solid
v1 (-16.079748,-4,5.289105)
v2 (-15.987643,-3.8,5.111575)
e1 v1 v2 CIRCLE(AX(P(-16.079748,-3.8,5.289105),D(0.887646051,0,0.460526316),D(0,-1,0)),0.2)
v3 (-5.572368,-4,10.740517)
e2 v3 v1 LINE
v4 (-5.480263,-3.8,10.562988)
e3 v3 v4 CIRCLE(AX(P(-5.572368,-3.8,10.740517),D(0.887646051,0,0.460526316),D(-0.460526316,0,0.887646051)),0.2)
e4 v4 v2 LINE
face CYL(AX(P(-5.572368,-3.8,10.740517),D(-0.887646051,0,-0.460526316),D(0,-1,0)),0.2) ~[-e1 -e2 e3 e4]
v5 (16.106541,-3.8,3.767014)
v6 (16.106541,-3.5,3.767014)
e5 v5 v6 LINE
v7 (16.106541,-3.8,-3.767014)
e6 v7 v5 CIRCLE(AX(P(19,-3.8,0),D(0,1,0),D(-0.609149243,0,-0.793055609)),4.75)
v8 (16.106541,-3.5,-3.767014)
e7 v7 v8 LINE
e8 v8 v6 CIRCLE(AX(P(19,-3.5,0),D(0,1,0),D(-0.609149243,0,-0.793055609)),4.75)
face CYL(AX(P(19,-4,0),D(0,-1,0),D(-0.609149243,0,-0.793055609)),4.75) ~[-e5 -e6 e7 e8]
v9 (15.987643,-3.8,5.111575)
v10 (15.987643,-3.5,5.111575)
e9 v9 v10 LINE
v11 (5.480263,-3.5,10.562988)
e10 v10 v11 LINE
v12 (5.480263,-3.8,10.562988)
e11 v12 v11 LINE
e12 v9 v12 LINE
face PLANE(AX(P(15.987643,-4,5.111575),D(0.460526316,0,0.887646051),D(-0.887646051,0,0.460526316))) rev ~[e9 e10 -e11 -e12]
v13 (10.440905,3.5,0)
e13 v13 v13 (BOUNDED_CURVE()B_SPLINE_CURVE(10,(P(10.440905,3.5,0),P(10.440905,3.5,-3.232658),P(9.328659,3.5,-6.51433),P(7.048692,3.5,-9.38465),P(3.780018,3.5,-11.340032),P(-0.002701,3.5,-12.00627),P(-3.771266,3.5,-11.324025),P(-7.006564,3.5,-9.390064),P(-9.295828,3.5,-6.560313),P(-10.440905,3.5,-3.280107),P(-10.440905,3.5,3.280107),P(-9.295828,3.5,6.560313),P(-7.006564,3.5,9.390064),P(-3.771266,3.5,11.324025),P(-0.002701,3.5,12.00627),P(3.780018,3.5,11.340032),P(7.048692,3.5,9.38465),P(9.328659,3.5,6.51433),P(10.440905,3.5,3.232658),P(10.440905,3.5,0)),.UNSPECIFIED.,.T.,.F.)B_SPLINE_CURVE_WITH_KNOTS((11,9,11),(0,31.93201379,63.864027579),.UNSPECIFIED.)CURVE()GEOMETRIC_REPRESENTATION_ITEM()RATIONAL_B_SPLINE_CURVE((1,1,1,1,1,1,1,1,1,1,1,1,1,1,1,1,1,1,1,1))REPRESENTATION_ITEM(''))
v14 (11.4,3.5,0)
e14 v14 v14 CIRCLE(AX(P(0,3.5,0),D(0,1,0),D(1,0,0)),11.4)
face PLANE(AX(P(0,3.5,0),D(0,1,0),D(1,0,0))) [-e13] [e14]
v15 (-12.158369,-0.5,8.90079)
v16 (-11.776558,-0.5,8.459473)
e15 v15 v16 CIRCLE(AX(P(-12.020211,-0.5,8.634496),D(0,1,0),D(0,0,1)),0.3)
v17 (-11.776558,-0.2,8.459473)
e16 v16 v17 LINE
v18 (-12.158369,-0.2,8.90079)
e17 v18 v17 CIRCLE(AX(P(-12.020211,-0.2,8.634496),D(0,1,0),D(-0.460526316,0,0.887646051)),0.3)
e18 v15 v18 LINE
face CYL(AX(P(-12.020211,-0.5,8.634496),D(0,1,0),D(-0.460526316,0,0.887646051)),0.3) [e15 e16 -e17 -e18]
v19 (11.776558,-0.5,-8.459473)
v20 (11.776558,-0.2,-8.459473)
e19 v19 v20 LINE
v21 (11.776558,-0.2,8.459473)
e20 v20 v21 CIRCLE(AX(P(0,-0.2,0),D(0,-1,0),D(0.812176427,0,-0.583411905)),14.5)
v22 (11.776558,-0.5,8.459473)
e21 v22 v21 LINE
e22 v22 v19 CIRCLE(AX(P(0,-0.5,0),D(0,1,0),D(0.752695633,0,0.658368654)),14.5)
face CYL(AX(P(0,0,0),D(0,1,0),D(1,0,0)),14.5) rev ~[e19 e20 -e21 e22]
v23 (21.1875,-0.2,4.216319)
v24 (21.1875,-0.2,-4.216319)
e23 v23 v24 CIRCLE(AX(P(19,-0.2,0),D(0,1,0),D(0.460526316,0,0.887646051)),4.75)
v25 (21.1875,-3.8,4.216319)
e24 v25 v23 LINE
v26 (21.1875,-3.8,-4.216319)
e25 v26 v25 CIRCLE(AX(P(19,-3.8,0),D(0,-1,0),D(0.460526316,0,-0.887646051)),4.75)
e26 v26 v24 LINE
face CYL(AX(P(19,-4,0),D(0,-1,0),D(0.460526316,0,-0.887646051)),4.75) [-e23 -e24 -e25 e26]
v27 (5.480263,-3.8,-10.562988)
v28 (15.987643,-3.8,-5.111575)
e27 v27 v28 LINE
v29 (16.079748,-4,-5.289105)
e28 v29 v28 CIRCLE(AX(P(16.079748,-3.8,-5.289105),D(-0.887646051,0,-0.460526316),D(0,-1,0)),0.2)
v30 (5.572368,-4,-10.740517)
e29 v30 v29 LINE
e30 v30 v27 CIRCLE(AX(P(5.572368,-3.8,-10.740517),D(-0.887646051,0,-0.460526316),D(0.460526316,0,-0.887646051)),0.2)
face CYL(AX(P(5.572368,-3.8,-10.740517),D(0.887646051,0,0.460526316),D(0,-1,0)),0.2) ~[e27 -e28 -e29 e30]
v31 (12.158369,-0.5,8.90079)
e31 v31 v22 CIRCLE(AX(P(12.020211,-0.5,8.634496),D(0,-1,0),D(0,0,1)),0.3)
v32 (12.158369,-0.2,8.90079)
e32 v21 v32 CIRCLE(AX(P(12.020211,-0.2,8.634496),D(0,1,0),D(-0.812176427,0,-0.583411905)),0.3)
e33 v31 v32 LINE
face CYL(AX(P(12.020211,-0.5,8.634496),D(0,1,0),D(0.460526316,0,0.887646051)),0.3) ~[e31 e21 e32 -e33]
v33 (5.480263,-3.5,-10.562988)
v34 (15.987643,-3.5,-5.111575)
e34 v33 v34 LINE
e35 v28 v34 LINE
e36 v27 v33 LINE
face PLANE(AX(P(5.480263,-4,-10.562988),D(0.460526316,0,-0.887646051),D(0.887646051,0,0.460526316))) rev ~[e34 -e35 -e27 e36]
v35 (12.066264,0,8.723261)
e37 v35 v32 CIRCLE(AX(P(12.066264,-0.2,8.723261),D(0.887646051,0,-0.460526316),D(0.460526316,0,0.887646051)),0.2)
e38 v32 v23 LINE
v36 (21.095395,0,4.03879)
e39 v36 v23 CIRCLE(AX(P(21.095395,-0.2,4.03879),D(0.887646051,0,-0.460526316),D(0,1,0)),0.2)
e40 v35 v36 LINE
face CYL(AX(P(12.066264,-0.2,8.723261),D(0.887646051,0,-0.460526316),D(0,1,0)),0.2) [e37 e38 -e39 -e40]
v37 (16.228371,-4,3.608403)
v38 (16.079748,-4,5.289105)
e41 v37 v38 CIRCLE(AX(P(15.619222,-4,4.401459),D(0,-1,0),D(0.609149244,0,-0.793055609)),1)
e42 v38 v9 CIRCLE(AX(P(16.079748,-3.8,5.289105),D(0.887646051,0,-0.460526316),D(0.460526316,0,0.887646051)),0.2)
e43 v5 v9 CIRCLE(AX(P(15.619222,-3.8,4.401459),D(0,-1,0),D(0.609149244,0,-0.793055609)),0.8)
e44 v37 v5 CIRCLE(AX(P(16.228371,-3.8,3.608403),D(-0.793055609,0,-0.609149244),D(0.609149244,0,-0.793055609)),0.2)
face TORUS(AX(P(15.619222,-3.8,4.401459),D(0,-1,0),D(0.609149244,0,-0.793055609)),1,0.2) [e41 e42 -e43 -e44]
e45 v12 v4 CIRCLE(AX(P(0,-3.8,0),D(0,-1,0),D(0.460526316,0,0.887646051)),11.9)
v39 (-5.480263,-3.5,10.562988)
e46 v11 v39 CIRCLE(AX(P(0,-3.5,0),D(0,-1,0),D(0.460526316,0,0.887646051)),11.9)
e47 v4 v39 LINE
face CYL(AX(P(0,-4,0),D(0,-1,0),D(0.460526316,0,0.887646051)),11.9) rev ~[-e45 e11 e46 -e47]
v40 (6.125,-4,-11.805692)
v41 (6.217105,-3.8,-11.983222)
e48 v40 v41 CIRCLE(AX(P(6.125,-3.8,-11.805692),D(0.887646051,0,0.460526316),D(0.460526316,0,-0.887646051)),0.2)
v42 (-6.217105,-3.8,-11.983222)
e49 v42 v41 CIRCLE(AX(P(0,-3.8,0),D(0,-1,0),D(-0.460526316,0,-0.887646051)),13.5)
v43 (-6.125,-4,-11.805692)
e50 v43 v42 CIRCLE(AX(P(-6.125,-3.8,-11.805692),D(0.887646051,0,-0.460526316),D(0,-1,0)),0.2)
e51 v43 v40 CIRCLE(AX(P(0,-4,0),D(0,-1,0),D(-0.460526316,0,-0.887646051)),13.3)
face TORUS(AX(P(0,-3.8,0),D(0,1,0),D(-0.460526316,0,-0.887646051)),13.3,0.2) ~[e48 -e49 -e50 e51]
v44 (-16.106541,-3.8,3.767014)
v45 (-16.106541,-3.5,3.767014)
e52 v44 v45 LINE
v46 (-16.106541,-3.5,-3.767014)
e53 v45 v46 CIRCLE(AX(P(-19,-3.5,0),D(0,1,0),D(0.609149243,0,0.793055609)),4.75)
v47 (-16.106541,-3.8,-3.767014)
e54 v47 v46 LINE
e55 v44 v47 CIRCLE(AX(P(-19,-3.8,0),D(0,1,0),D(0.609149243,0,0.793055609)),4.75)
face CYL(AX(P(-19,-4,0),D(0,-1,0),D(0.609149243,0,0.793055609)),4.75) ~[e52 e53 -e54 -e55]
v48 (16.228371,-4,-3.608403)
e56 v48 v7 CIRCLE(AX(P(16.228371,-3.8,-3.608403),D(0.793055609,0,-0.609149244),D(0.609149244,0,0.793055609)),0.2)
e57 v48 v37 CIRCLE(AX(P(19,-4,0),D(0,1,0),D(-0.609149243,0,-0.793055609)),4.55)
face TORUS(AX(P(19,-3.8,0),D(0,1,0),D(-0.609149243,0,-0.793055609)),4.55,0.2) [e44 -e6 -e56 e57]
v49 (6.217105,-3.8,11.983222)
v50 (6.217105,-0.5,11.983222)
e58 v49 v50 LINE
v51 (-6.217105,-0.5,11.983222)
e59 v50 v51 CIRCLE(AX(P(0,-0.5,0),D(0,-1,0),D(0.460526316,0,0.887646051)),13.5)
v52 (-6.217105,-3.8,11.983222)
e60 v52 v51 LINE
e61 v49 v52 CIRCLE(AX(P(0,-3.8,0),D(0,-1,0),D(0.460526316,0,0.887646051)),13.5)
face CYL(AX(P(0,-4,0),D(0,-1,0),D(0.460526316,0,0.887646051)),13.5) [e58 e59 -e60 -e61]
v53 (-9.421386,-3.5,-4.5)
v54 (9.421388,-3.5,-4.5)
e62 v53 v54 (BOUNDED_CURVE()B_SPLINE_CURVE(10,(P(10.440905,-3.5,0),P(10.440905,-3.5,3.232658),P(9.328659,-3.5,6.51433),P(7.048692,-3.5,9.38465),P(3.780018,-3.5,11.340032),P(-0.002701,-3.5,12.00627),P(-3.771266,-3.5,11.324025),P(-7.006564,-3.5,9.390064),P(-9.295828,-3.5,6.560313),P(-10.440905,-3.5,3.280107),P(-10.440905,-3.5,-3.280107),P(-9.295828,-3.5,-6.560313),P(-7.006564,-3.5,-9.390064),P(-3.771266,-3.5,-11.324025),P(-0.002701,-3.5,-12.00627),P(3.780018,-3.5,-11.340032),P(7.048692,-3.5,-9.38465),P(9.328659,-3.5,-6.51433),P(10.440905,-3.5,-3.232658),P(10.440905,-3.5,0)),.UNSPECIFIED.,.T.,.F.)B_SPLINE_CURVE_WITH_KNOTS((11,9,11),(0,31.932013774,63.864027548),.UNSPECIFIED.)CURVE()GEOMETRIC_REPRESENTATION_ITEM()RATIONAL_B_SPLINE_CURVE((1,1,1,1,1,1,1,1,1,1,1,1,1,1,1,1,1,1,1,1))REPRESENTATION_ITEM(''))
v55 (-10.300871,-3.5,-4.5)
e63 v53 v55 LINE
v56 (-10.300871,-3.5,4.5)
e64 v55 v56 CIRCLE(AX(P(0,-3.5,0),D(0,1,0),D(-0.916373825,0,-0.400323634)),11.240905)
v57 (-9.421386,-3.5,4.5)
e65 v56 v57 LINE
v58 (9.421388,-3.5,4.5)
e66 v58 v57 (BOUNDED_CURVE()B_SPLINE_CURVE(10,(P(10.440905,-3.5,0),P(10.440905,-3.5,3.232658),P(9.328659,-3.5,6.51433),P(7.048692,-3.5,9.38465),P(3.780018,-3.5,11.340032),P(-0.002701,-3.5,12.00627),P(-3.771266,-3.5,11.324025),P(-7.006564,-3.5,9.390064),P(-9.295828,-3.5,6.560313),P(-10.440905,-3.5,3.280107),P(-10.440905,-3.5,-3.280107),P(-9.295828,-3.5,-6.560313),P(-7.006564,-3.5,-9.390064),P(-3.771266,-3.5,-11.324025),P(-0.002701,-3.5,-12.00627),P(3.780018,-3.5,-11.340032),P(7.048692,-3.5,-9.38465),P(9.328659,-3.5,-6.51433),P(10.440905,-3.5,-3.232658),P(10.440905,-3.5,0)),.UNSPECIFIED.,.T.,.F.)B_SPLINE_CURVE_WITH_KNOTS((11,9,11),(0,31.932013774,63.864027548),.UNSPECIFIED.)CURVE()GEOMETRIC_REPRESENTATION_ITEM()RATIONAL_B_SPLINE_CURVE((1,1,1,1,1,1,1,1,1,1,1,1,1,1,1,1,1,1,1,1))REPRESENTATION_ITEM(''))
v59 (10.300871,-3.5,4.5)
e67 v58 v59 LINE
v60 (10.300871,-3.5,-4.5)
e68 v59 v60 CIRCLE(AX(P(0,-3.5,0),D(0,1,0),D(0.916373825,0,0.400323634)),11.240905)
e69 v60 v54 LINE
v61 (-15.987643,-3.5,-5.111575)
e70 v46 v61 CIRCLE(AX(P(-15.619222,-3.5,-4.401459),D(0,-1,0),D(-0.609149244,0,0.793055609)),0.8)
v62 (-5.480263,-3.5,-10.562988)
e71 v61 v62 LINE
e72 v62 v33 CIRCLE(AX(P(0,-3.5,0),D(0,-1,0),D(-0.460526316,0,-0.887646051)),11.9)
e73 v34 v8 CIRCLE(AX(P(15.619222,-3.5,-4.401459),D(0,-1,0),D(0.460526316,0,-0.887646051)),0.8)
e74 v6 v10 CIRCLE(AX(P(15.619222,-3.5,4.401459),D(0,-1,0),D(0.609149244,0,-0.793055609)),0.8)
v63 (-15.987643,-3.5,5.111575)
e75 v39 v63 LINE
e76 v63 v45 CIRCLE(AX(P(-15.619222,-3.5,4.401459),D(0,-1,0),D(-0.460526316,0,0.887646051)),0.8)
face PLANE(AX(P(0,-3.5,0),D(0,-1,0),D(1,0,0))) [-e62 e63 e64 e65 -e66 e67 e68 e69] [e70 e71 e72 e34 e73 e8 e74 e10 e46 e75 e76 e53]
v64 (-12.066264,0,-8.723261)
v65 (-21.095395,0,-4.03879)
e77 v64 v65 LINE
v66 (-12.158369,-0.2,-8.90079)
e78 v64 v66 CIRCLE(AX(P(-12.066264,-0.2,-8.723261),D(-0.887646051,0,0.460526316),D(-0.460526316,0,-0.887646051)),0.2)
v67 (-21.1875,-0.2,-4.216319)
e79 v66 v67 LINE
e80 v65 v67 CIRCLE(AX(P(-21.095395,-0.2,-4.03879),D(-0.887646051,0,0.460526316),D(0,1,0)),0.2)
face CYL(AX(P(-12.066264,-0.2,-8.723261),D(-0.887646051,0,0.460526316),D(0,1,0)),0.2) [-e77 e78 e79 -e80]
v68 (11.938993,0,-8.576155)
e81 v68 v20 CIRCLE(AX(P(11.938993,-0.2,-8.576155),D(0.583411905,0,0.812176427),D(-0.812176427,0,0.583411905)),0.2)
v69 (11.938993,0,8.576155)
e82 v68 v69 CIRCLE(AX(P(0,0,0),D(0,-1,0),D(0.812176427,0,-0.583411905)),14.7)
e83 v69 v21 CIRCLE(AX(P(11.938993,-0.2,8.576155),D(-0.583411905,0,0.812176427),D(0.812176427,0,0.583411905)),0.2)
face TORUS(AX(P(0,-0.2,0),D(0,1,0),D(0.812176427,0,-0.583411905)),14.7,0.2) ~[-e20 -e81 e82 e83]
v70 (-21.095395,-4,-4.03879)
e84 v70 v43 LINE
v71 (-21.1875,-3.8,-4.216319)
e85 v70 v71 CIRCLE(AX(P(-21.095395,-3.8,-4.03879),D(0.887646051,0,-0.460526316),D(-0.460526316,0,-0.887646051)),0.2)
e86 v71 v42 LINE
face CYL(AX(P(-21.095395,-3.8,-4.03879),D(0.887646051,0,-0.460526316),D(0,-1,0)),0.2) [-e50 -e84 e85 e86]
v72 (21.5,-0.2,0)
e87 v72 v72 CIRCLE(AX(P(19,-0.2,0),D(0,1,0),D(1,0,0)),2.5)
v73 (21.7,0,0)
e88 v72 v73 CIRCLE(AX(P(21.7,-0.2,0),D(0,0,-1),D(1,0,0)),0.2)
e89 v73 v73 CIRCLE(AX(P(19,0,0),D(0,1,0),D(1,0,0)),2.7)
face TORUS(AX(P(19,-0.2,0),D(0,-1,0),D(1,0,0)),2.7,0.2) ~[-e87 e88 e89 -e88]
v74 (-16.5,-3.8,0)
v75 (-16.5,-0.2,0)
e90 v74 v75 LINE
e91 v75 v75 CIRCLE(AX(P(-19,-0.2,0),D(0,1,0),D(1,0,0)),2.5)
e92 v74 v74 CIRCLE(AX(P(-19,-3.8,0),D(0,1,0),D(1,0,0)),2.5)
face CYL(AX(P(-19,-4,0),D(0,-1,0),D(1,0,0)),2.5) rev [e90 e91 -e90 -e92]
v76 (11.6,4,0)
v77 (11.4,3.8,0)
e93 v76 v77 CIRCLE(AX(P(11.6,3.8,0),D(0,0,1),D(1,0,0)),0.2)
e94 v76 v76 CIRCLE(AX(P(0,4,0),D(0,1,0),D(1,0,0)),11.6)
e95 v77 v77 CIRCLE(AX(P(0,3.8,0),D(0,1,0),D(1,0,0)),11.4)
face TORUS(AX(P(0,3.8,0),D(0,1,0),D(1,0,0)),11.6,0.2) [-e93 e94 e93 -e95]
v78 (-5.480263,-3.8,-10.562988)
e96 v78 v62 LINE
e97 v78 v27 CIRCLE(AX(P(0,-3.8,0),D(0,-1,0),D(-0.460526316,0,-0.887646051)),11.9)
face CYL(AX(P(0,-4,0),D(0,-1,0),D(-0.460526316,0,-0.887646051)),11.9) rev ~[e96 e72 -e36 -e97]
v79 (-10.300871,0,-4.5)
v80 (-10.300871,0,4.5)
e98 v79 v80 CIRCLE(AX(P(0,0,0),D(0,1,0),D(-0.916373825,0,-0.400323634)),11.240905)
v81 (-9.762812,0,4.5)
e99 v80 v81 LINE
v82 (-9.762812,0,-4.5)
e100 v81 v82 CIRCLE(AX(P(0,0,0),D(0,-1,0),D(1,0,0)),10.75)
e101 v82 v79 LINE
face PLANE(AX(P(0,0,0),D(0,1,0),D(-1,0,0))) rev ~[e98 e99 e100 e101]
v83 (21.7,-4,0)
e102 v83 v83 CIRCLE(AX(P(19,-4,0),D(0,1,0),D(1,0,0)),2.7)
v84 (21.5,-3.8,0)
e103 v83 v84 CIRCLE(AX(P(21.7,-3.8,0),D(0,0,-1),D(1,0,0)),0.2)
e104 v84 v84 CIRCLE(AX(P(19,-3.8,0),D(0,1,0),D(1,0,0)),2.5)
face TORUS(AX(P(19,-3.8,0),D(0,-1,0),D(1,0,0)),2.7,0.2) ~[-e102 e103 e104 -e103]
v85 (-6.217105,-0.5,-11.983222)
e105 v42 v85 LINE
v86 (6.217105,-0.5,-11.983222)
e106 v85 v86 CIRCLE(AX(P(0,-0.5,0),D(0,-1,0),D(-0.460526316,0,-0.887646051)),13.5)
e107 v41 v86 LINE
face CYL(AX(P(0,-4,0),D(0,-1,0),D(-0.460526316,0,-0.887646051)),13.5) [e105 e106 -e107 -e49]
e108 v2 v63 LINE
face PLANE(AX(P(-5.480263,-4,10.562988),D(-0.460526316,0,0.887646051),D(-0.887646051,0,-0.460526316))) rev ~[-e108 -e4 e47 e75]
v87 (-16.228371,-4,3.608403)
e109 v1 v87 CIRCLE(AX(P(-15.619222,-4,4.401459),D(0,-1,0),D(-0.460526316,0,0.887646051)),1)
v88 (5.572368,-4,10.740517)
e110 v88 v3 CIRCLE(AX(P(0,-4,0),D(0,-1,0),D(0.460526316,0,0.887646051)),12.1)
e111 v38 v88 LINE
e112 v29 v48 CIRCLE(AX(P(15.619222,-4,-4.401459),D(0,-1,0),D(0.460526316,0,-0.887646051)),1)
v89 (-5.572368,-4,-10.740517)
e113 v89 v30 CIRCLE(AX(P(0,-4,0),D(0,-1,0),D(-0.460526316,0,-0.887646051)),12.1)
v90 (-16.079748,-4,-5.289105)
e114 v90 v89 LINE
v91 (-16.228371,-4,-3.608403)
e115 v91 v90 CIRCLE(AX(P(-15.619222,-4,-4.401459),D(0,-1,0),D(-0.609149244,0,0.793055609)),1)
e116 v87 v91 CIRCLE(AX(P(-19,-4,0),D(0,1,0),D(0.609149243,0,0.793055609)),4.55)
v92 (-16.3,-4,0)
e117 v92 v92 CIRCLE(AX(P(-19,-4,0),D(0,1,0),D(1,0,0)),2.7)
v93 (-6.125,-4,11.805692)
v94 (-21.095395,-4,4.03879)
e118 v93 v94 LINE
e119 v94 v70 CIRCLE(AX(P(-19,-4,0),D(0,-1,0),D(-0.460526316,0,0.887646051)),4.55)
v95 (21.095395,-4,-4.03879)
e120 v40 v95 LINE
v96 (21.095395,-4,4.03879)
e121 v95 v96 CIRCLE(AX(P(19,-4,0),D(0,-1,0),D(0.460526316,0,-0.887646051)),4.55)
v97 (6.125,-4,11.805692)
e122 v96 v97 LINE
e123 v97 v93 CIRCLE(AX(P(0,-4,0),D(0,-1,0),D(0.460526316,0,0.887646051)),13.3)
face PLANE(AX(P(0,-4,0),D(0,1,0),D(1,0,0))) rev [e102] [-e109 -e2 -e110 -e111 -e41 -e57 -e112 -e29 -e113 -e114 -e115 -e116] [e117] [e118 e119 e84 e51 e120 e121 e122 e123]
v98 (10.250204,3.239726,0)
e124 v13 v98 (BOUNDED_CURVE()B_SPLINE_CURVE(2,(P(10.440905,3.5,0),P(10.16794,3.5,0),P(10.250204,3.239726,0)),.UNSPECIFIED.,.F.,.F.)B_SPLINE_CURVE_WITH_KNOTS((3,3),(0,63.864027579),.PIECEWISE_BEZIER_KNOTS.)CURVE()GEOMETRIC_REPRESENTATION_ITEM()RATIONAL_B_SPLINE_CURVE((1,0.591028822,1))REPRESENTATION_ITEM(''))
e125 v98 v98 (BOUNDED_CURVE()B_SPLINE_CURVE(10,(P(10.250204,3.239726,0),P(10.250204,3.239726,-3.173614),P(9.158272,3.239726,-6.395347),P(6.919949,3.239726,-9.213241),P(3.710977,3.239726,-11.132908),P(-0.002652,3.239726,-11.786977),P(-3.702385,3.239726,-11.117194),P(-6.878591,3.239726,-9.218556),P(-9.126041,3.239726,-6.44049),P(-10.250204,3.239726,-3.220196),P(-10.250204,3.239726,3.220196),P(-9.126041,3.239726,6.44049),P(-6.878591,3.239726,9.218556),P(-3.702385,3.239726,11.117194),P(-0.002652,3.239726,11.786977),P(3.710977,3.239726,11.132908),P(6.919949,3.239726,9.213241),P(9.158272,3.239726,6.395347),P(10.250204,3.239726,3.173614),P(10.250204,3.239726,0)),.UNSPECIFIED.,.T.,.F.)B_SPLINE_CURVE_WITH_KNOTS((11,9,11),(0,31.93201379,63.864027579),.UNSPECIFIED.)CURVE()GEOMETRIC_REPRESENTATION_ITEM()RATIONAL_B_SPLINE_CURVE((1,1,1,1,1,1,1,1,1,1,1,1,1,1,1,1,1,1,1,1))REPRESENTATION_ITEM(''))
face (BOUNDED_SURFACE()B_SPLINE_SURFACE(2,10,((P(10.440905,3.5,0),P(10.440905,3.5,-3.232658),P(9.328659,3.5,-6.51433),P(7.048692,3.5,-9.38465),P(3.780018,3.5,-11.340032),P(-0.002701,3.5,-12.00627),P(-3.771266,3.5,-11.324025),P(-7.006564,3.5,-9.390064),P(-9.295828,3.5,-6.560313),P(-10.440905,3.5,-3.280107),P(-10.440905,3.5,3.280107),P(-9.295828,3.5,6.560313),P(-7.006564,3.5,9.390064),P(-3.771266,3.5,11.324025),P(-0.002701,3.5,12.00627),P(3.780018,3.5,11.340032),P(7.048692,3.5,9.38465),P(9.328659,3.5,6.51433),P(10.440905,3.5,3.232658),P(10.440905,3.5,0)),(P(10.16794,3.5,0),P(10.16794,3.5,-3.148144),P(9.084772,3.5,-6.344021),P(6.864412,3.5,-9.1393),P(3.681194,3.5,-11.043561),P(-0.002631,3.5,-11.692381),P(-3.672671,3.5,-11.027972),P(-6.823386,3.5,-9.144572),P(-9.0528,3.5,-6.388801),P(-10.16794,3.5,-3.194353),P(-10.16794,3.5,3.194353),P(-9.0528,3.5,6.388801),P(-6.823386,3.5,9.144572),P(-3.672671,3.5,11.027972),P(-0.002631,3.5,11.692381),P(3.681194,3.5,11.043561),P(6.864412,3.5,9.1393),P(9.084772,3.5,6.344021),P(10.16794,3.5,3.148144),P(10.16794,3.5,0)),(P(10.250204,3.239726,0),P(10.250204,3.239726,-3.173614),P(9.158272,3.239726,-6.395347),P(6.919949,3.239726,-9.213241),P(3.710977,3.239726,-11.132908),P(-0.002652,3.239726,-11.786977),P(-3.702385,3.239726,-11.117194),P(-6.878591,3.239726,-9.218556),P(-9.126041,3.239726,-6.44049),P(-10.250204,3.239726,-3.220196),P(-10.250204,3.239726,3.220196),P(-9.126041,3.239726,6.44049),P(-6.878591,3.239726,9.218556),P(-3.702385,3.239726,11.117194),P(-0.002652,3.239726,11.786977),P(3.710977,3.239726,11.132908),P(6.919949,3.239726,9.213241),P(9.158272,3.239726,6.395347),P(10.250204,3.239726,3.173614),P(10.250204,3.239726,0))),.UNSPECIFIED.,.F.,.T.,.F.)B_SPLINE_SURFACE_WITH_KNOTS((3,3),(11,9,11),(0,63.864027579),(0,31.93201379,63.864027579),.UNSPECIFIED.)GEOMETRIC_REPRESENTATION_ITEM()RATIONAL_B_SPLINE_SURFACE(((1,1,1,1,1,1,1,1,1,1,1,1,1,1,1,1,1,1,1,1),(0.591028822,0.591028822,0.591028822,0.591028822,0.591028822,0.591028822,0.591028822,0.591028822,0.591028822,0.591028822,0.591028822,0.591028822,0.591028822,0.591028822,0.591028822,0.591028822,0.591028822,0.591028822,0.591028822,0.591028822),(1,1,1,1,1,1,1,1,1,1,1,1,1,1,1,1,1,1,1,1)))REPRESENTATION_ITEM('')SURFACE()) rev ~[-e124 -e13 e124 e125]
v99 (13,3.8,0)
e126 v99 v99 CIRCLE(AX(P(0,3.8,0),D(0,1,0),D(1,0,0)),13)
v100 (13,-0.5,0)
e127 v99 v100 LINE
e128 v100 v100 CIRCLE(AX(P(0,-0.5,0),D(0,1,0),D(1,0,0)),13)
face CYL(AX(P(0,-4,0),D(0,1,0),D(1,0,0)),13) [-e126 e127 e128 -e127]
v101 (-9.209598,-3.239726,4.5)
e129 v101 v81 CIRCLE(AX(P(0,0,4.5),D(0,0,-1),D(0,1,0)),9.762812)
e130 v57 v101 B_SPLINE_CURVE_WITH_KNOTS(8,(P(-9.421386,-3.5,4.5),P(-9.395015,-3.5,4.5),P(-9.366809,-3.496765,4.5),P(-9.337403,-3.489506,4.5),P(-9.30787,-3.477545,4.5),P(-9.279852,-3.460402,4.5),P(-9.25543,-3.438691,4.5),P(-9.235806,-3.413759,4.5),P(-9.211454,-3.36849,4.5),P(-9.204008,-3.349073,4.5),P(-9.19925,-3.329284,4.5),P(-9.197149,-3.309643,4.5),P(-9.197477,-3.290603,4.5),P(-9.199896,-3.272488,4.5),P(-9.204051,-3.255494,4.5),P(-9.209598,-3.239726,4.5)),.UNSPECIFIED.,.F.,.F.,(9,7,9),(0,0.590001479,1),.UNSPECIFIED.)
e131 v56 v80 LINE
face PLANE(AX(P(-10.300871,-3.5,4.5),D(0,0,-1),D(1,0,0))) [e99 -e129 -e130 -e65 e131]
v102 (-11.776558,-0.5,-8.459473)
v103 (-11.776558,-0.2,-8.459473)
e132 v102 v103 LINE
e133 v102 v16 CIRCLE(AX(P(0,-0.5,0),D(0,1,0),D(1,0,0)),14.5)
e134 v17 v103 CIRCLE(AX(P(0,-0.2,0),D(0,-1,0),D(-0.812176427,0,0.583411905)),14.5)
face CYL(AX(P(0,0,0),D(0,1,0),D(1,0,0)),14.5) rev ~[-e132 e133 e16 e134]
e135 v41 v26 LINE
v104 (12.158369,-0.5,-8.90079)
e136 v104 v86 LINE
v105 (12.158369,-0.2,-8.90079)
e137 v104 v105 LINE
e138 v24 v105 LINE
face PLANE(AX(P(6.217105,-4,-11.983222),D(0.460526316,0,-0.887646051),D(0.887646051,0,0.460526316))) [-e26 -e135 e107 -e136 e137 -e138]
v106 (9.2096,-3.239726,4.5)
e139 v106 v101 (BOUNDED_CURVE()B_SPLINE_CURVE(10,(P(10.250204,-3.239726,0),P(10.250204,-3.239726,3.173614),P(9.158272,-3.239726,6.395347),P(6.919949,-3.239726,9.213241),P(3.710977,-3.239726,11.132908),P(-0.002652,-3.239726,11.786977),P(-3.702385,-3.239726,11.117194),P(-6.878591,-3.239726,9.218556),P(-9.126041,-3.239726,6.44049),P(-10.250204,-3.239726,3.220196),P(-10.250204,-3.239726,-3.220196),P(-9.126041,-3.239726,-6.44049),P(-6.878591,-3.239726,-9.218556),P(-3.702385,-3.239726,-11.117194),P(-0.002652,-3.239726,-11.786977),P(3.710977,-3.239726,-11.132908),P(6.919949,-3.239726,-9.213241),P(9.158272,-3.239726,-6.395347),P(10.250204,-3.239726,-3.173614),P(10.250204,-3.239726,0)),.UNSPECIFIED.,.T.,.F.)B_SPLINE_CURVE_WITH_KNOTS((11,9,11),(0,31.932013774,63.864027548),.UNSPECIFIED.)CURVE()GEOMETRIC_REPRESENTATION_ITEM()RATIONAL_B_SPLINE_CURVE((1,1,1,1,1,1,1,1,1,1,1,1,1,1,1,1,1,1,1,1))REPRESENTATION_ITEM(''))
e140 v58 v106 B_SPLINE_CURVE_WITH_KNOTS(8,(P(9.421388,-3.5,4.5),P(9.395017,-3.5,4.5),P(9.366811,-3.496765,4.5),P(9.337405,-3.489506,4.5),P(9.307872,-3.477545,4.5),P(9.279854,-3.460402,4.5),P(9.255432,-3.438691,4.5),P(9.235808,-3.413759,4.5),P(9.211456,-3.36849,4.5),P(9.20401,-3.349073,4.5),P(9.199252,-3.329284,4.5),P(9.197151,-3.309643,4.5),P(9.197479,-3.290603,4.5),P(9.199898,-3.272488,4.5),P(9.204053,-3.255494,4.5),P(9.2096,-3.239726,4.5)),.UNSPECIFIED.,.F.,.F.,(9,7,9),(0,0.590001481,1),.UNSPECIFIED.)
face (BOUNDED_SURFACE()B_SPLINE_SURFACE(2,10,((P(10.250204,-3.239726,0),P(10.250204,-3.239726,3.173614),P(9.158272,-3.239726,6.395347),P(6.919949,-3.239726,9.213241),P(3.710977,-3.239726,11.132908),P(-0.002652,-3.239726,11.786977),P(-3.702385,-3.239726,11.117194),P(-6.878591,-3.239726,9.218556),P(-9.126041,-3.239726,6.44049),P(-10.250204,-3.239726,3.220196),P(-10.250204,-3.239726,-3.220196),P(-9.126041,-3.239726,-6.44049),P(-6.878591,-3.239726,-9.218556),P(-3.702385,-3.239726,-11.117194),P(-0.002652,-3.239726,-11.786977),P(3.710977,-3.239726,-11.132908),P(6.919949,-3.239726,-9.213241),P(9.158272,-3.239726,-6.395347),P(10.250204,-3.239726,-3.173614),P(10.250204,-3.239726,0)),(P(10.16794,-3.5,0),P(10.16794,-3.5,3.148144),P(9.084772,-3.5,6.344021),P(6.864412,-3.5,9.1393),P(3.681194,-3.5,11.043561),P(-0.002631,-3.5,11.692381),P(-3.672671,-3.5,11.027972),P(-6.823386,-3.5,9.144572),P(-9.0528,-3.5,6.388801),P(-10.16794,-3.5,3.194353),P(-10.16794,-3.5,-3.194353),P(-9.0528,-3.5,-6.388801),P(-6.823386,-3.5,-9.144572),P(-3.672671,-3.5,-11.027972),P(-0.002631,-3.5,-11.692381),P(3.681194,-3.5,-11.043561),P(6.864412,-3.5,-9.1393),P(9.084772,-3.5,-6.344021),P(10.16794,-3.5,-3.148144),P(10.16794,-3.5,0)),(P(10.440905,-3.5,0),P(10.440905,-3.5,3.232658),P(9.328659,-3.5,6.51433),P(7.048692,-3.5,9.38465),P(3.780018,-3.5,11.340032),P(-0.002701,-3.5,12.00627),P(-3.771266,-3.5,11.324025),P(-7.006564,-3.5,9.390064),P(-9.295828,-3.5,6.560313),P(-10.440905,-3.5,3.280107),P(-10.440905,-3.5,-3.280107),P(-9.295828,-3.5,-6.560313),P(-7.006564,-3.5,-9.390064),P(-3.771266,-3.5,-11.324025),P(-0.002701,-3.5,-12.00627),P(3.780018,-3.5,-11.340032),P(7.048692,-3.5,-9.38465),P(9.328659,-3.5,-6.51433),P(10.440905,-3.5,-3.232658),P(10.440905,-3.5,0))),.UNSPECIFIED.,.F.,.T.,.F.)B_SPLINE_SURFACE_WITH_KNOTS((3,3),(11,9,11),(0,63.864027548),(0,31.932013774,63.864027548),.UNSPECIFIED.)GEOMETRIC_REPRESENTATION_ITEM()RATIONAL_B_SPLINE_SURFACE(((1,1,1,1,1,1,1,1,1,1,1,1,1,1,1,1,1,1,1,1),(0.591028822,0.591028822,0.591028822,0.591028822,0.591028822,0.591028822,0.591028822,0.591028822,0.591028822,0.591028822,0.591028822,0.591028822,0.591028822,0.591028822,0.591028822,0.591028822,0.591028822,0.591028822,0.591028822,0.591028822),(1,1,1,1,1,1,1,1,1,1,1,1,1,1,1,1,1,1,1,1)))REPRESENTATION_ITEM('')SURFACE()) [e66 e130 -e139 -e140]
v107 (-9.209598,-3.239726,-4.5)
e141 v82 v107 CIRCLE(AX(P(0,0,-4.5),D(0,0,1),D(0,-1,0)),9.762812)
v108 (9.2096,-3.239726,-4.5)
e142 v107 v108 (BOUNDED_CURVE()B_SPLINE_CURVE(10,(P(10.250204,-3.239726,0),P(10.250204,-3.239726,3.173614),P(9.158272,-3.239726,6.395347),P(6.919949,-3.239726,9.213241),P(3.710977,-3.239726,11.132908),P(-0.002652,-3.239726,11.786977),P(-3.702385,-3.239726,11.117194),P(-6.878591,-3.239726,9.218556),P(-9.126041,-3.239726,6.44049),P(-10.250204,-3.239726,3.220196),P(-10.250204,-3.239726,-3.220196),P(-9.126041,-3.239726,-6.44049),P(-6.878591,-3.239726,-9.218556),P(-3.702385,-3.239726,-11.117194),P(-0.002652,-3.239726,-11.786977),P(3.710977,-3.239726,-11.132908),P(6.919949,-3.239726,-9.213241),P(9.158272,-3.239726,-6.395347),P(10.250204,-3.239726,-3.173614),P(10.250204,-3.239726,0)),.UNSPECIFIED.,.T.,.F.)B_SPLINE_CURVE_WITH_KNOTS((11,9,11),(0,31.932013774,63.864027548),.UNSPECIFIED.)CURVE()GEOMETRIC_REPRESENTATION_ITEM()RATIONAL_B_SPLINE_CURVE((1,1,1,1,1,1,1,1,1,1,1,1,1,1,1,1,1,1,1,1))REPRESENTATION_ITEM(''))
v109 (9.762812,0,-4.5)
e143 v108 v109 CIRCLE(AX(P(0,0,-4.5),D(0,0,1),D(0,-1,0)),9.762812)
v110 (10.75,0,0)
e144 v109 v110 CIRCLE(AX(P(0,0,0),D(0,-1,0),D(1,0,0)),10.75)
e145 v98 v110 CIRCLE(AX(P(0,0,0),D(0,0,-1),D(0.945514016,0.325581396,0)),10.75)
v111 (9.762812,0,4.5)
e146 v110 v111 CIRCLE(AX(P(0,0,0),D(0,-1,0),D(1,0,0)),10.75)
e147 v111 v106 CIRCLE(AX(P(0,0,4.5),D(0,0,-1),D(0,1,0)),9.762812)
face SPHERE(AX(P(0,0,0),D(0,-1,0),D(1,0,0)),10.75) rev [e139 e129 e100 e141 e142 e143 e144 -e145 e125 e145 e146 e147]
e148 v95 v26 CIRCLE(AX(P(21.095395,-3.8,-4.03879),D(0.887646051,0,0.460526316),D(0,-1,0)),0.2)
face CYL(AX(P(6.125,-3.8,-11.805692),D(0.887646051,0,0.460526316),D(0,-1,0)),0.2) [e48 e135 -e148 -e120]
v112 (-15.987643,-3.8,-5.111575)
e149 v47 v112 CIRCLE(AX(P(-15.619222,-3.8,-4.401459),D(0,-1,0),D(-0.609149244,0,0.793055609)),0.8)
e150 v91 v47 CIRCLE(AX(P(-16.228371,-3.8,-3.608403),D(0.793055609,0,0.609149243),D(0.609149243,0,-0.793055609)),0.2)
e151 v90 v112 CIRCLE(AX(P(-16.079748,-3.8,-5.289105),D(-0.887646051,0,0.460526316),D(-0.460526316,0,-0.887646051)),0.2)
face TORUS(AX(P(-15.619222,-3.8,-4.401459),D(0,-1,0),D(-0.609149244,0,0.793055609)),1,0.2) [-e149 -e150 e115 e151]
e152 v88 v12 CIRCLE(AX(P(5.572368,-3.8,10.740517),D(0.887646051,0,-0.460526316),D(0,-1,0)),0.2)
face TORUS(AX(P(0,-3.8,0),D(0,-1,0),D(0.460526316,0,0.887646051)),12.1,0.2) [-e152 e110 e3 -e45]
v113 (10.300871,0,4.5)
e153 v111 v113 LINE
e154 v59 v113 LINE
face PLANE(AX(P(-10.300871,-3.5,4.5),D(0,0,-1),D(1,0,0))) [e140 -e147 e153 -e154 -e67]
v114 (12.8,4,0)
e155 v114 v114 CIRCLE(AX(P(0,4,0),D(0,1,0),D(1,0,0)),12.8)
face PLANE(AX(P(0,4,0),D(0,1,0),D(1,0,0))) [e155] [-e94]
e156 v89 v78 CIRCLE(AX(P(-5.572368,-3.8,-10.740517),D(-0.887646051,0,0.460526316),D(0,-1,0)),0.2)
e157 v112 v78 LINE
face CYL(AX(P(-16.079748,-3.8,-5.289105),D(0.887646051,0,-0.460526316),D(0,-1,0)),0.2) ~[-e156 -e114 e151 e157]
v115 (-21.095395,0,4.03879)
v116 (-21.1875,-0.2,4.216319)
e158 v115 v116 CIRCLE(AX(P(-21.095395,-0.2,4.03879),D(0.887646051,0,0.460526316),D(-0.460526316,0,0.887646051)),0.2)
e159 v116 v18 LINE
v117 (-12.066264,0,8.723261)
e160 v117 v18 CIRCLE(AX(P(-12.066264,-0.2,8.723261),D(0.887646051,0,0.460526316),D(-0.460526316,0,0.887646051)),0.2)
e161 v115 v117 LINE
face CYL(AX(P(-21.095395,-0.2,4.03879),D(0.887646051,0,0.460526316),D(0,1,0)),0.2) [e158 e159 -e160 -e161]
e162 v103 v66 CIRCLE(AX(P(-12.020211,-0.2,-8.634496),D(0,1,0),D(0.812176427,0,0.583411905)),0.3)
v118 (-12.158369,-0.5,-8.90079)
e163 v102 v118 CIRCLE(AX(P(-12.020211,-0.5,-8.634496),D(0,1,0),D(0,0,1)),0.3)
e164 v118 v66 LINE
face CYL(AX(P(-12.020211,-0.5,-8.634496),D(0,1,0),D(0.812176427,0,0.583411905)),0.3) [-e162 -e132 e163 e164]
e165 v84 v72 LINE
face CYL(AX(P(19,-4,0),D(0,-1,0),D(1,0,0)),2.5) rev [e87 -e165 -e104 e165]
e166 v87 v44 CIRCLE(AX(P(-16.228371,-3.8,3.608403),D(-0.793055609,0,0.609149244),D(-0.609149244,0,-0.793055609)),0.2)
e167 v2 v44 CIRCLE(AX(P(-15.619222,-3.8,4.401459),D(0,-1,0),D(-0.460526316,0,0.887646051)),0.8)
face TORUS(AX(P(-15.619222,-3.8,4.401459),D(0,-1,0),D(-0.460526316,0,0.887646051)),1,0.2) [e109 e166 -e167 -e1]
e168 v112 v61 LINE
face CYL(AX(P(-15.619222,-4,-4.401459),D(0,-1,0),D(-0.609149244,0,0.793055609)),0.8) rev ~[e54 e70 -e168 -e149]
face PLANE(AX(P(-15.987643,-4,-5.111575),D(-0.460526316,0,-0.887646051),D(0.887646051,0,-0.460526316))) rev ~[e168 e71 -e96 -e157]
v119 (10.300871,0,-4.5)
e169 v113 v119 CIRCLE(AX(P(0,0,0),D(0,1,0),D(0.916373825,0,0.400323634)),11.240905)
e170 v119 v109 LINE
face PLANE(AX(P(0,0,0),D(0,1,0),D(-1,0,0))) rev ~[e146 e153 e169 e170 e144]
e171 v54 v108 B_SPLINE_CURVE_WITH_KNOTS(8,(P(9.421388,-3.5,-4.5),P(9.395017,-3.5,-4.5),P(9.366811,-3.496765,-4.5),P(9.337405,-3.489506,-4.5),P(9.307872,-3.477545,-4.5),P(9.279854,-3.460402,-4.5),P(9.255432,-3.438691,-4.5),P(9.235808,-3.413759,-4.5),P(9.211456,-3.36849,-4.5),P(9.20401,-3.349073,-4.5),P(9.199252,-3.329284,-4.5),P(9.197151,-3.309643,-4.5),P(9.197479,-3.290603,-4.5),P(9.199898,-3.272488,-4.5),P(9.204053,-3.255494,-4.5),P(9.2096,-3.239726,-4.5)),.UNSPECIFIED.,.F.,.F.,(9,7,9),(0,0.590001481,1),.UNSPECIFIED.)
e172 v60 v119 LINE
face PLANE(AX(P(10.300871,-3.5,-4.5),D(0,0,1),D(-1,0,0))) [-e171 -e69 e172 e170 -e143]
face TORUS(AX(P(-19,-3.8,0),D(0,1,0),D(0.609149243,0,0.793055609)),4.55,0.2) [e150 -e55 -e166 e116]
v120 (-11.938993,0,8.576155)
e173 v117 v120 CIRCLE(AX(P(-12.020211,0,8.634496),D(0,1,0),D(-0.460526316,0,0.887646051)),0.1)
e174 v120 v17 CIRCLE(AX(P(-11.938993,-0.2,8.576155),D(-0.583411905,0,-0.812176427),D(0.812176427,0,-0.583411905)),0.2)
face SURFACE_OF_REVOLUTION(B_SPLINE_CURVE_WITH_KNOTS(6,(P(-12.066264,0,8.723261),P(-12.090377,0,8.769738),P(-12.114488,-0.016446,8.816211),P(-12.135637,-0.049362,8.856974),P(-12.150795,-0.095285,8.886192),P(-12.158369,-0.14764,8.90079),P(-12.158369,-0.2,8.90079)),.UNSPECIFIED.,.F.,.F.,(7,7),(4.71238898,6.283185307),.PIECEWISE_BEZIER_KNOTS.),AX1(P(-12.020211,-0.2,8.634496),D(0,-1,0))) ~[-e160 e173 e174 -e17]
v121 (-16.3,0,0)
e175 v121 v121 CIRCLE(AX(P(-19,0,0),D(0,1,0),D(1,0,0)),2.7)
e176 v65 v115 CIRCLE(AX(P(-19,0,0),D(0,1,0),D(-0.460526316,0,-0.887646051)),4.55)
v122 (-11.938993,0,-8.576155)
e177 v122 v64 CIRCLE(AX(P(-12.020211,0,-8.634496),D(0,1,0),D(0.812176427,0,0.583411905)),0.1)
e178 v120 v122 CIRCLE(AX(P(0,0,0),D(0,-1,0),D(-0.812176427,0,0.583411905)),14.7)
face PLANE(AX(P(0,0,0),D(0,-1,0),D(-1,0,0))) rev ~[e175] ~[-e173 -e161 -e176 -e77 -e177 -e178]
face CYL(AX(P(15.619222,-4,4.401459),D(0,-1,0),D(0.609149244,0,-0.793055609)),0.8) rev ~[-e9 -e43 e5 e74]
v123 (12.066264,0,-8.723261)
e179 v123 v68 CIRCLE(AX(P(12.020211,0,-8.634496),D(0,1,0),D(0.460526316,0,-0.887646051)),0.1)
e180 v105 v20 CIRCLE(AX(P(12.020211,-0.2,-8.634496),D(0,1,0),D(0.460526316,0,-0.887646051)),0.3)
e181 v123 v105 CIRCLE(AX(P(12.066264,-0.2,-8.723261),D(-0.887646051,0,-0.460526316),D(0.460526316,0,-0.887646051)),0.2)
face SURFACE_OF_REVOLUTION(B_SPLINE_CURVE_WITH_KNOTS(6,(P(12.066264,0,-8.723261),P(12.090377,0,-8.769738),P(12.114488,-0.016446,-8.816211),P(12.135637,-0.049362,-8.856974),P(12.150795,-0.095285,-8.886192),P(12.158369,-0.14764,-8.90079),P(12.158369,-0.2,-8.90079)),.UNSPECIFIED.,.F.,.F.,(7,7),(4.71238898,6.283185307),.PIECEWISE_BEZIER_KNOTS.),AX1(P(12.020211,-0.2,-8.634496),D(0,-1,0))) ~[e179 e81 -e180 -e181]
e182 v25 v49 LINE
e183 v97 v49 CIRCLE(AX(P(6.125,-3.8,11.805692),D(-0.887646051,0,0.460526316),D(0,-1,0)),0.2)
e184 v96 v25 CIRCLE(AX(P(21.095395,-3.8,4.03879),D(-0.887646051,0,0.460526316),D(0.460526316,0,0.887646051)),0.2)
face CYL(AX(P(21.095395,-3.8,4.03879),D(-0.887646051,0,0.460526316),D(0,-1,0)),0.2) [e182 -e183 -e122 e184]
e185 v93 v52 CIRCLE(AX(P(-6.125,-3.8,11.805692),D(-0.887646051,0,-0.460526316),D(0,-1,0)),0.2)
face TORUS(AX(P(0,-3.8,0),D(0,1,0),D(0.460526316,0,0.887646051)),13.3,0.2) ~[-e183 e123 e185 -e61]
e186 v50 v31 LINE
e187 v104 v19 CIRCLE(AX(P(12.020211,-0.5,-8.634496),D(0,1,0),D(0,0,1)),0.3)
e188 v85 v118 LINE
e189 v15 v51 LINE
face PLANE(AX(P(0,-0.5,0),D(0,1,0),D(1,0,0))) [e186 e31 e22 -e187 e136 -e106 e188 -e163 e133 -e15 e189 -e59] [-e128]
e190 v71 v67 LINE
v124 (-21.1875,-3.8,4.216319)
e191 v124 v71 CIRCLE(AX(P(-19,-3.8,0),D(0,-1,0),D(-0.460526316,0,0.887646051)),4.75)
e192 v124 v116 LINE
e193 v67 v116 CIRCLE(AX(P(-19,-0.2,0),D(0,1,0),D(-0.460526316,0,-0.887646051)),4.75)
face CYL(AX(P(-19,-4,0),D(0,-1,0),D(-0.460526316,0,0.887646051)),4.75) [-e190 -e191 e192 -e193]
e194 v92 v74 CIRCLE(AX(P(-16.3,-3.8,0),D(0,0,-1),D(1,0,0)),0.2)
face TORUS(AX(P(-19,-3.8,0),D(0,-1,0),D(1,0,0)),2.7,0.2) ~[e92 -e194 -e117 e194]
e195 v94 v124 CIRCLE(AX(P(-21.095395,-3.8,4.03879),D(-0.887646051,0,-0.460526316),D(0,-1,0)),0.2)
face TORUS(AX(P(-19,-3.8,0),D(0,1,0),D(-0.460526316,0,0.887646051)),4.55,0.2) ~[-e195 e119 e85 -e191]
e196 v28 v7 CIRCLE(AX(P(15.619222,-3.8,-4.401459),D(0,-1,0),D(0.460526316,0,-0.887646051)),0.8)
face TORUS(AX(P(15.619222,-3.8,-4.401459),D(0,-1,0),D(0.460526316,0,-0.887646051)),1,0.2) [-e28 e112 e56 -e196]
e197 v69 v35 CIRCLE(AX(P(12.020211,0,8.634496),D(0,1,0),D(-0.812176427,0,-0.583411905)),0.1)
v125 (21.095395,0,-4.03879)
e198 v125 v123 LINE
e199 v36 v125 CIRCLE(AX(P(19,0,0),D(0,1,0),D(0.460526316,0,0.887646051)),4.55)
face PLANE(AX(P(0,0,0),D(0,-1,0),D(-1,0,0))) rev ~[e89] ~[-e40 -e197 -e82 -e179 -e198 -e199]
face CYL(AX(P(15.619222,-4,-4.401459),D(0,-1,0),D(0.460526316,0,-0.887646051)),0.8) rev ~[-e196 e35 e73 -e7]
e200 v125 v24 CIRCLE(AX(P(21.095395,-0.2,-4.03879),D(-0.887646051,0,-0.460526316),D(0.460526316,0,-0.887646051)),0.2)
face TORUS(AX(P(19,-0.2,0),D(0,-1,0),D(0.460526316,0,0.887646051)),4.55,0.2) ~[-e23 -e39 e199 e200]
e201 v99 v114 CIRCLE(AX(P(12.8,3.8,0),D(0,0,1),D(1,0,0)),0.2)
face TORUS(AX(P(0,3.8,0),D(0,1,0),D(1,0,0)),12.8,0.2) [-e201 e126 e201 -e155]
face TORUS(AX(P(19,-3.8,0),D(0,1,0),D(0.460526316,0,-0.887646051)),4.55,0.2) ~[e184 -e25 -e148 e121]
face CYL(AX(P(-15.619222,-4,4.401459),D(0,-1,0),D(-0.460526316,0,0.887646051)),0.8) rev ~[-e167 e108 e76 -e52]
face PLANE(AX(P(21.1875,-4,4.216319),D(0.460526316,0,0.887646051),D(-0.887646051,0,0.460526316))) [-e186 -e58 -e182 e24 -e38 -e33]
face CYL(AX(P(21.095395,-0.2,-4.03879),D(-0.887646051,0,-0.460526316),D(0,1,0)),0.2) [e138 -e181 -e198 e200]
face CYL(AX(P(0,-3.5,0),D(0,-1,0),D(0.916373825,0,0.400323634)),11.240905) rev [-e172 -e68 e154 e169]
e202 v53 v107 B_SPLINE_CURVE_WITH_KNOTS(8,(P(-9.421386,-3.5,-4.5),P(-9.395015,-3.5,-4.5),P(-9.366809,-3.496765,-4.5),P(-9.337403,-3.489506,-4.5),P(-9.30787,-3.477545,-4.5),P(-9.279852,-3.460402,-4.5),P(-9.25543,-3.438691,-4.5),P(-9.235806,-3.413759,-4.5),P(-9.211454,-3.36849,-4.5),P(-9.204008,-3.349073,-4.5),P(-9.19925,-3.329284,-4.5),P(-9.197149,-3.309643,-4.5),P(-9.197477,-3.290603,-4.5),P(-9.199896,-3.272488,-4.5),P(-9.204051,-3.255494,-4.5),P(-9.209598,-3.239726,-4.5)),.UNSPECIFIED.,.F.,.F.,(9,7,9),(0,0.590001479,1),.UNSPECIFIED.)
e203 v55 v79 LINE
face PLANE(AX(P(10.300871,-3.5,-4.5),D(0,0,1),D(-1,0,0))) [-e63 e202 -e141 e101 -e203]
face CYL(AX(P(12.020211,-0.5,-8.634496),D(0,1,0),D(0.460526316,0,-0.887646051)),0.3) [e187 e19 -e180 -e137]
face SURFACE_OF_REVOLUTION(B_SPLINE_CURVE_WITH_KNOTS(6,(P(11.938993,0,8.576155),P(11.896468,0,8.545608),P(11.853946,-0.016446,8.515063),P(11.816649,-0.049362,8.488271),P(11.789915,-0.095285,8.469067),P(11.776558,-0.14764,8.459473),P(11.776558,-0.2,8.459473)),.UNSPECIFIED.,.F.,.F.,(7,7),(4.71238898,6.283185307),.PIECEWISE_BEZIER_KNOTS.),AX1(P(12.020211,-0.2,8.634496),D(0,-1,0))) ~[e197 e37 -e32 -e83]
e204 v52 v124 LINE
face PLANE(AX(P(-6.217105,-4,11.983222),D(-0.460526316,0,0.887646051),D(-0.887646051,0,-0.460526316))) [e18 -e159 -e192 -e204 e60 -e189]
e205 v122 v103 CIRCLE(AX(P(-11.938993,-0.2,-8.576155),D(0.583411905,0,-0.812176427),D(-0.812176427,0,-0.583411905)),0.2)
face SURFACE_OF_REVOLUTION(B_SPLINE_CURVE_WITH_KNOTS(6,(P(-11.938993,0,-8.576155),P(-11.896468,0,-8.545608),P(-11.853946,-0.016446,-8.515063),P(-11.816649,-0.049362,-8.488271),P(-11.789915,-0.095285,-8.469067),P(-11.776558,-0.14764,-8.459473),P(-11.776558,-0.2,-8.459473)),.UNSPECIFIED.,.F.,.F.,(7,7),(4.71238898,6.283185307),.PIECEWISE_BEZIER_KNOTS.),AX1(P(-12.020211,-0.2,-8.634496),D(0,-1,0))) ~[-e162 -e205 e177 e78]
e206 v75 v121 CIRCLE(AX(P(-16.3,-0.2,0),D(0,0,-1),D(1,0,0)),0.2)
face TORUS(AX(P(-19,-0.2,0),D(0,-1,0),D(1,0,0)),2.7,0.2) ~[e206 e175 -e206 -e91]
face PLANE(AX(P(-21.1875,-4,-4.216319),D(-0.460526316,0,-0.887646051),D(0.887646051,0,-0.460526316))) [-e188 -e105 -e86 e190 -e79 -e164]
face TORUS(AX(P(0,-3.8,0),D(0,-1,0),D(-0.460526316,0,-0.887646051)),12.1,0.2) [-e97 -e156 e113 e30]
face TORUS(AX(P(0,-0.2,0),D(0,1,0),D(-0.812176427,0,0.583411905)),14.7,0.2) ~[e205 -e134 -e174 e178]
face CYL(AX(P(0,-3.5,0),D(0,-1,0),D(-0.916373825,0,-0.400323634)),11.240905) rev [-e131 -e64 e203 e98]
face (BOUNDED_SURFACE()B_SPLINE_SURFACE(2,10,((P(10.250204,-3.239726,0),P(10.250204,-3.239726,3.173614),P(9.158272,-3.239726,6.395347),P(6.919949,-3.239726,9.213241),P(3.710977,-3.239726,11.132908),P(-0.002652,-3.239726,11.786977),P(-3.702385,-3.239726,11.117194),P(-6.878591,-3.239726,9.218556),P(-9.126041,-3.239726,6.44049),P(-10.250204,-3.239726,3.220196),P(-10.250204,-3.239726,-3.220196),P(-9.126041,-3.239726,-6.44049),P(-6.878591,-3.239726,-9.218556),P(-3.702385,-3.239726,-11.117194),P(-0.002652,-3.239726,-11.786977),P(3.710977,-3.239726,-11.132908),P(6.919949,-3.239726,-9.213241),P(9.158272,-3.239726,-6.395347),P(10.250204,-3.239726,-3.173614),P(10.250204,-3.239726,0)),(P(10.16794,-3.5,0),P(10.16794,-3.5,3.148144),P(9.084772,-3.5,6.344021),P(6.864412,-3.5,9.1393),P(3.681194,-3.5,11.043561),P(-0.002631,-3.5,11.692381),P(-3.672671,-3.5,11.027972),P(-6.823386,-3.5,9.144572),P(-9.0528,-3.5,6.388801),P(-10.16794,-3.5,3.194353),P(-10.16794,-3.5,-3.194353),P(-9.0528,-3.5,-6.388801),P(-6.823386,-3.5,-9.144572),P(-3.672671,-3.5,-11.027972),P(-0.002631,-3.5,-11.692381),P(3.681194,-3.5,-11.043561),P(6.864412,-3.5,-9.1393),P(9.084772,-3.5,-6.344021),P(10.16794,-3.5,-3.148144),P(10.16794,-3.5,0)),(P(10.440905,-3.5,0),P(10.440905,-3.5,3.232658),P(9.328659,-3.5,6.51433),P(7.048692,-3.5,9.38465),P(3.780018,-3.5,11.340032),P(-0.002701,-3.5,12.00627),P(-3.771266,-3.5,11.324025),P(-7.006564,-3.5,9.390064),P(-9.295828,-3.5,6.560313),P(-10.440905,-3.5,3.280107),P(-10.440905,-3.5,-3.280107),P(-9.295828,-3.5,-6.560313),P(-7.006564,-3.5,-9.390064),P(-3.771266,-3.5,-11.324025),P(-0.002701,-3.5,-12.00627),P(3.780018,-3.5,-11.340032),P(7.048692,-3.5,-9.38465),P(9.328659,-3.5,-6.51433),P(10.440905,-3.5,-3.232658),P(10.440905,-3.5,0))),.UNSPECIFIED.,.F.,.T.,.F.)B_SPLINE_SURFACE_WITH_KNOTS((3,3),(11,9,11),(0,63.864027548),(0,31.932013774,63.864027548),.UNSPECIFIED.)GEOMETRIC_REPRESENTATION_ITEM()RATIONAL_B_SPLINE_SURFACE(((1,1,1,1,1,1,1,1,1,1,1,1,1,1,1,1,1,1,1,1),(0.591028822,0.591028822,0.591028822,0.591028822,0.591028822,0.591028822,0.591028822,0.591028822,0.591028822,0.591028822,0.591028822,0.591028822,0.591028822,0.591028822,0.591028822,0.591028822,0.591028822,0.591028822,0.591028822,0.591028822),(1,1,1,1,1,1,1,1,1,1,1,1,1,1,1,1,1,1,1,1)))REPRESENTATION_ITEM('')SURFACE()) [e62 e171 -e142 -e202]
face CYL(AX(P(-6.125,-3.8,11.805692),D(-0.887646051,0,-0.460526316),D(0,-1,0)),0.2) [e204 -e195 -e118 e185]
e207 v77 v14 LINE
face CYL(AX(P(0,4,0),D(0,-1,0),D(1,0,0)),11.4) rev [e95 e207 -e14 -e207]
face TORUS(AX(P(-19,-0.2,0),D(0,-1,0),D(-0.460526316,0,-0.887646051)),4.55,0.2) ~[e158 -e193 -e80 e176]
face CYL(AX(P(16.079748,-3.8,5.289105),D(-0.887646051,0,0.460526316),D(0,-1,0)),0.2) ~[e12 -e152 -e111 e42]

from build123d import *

# Parameters (mm, degrees)
SKETCH5_R           = 2.5
SKETCH5_R_2         = 13
BOSS_EXTRUDE3_DEPTH = 4
CUT_EXTRUDE1_DEPTH  = 0.5
SKETCH7_R           = 14.5
SKETCH7_R_2         = 13
CUT_EXTRUDE2_DEPTH  = 0.5
FILLET1_R           = 0.3
FILLET2_R           = 0.2
CUT_EXTRUDE3_DEPTH  = 3.5


with BuildPart() as part:
    # Sketch5 → Boss-Extrude3 (new body)
    with BuildSketch(Plane(origin=(0, -4, 0), x_dir=(1, 0, 0), z_dir=(0, 1, 0))):
        with BuildLine():
            Line((-21.1875, 4.216318744), (-6.217105263, 11.983221693))
            ThreePointArc((-6.217105263, 11.983221693), (0, 13.5), (6.217105263, 11.983221693))
            Line((6.217105263, 11.983221693), (21.1875, 4.216318744))
            ThreePointArc((21.1875, 4.216318744), (23.75, 0), (21.1875, -4.216318744))
            Line((21.1875, -4.216318744), (6.217105263, -11.983221693))
            ThreePointArc((6.217105263, -11.983221693), (0, -13.5), (-6.217105263, -11.983221693))
            Line((-6.217105263, -11.983221693), (-21.1875, -4.216318744))
            ThreePointArc((-21.1875, -4.216318744), (-23.75, 0), (-21.1875, 4.216318744))
        make_face()
        with Locations((-19, 0)):
            Circle(SKETCH5_R, mode=Mode.SUBTRACT)
        with Locations((19, 0)):
            Circle(SKETCH5_R, mode=Mode.SUBTRACT)
        Circle(SKETCH5_R_2, mode=Mode.SUBTRACT)
    extrude(amount=BOSS_EXTRUDE3_DEPTH)

    # Sketch2 → Revolve2 (revolve)
    with BuildSketch(Plane.XY):
        with BuildLine():
            ThreePointArc((10.164275675, 3.5), (10.746689479, -0.266768159), (9.978101022, -4))
            Line((9.978101022, -4), (13, -4))
            Line((13, -4), (13, 4))
            Line((13, 4), (11.4, 4))
            Line((11.4, 4), (11.4, 3.5))
            Line((11.4, 3.5), (10.164275675, 3.5))
        make_face()
    revolve(axis=Axis((0, 0, 0), (0, 1, 0)))

    # Sketch6 → Cut-Extrude1 (cut)
    with BuildSketch(Plane.XZ.offset(4)):
        with BuildLine():
            Line((5.480263158, -10.562988011), (15.987642753, -5.111575473))
            ThreePointArc((15.987642753, -5.111575473), (16.416112044, -4.471926924), (16.106541095, -3.767014144))
            ThreePointArc((16.106541095, -3.767014144), (14.25, 0), (16.106541095, 3.767014144))
            ThreePointArc((16.106541095, 3.767014144), (16.416112044, 4.471926924), (15.987642753, 5.111575473))
            Line((15.987642753, 5.111575473), (5.480263158, 10.562988011))
            ThreePointArc((5.480263158, 10.562988011), (0, 11.9), (-5.480263158, 10.562988011))
            Line((-5.480263158, 10.562988011), (-15.987642753, 5.111575473))
            ThreePointArc((-15.987642753, 5.111575473), (-16.416112044, 4.471926924), (-16.106541095, 3.767014144))
            ThreePointArc((-16.106541095, 3.767014144), (-14.25, 0), (-16.106541095, -3.767014144))
            ThreePointArc((-16.106541095, -3.767014144), (-16.416112044, -4.471926924), (-15.987642753, -5.111575473))
            Line((-15.987642753, -5.111575473), (-5.480263158, -10.562988011))
            ThreePointArc((-5.480263158, -10.562988011), (0, -11.9), (5.480263158, -10.562988011))
        make_face()
    extrude(amount=-CUT_EXTRUDE1_DEPTH, mode=Mode.SUBTRACT)

    # Sketch7 → Cut-Extrude2 (cut)
    with BuildSketch(Plane(origin=(0, 0, 0), x_dir=(1, 0, 0), z_dir=(0, 1, 0))):
        Circle(SKETCH7_R)
        Circle(SKETCH7_R_2, mode=Mode.SUBTRACT)
    extrude(amount=-CUT_EXTRUDE2_DEPTH, mode=Mode.SUBTRACT)

    # Fillet1
    fillet1_edges = [part.edges().sort_by_distance(p)[0] for p in [
        (10.914086671, -0.25, 9.546345486),
        (10.914086671, -0.25, -9.546345486),
        (-10.914086671, -0.25, -9.546345486),
        (-10.914086671, -0.25, 9.546345486),
    ]]
    fillet(fillet1_edges, radius=FILLET1_R)

    # Fillet2
    fillet2_edges = [part.edges().sort_by_distance(p)[0] for p in [
        (16.416112044, -4, 4.471926924),
        (10.733952955, -4, 7.837281742),
        (0, -4, 11.9),
        (-10.733952955, -4, 7.837281742),
        (-16.416112044, -4, 4.471926924),
        (-14.25, -4, 0),
        (-16.416112044, -4, -4.471926924),
        (-10.733952955, -4, -7.837281742),
        (0, -4, -11.9),
        (10.733952955, -4, -7.837281742),
        (16.416112044, -4, -4.471926924),
        (14.25, -4, 0),
        (-13.702302632, -4, 8.099770219),
        (0, -4, 13.5),
        (13.702302632, -4, 8.099770219),
        (23.75, -4, 0),
        (13.702302632, -4, -8.099770219),
        (0, -4, -13.5),
        (-13.702302632, -4, -8.099770219),
        (-23.75, -4, 0),
        (16.5, -4, 0),
        (-21.5, -4, 0),
        (-11.4, 4, 0),
        (-13, 4, 0),
        (16.5, 0, 0),
        (11.793335472, 0, -8.830780282),
        (16.672934507, 0, -6.55855438),
        (23.75, 0, 0),
        (16.672934507, 0, 6.55855438),
        (11.793335472, 0, 8.830780282),
        (14.5, 0, 0),
        (-21.5, 0, 0),
        (-11.793335472, 0, 8.830780282),
        (-16.672934507, 0, 6.55855438),
        (-23.75, 0, 0),
        (-16.672934507, 0, -6.55855438),
        (-11.793335472, 0, -8.830780282),
        (-14.5, 0, 0),
        (-10.164275675, -3.5, 0),
        (-10.164275675, 3.5, 0),
    ]]
    fillet(fillet2_edges, radius=FILLET2_R)

    # Sketch8 → Cut-Extrude3 (cut)
    with BuildSketch(Plane.XZ.offset(3.5)):
        with BuildLine():
            Line((-10.300871236, 4.5), (10.300871236, 4.5))
            ThreePointArc((10.300871236, 4.5), (11.240905133, 0), (10.300871236, -4.5))
            Line((10.300871236, -4.5), (-10.300871236, -4.5))
            ThreePointArc((-10.300871236, -4.5), (-11.240905133, 0), (-10.300871236, 4.5))
        make_face()
    extrude(amount=-CUT_EXTRUDE3_DEPTH, mode=Mode.SUBTRACT)


solid = part.part
